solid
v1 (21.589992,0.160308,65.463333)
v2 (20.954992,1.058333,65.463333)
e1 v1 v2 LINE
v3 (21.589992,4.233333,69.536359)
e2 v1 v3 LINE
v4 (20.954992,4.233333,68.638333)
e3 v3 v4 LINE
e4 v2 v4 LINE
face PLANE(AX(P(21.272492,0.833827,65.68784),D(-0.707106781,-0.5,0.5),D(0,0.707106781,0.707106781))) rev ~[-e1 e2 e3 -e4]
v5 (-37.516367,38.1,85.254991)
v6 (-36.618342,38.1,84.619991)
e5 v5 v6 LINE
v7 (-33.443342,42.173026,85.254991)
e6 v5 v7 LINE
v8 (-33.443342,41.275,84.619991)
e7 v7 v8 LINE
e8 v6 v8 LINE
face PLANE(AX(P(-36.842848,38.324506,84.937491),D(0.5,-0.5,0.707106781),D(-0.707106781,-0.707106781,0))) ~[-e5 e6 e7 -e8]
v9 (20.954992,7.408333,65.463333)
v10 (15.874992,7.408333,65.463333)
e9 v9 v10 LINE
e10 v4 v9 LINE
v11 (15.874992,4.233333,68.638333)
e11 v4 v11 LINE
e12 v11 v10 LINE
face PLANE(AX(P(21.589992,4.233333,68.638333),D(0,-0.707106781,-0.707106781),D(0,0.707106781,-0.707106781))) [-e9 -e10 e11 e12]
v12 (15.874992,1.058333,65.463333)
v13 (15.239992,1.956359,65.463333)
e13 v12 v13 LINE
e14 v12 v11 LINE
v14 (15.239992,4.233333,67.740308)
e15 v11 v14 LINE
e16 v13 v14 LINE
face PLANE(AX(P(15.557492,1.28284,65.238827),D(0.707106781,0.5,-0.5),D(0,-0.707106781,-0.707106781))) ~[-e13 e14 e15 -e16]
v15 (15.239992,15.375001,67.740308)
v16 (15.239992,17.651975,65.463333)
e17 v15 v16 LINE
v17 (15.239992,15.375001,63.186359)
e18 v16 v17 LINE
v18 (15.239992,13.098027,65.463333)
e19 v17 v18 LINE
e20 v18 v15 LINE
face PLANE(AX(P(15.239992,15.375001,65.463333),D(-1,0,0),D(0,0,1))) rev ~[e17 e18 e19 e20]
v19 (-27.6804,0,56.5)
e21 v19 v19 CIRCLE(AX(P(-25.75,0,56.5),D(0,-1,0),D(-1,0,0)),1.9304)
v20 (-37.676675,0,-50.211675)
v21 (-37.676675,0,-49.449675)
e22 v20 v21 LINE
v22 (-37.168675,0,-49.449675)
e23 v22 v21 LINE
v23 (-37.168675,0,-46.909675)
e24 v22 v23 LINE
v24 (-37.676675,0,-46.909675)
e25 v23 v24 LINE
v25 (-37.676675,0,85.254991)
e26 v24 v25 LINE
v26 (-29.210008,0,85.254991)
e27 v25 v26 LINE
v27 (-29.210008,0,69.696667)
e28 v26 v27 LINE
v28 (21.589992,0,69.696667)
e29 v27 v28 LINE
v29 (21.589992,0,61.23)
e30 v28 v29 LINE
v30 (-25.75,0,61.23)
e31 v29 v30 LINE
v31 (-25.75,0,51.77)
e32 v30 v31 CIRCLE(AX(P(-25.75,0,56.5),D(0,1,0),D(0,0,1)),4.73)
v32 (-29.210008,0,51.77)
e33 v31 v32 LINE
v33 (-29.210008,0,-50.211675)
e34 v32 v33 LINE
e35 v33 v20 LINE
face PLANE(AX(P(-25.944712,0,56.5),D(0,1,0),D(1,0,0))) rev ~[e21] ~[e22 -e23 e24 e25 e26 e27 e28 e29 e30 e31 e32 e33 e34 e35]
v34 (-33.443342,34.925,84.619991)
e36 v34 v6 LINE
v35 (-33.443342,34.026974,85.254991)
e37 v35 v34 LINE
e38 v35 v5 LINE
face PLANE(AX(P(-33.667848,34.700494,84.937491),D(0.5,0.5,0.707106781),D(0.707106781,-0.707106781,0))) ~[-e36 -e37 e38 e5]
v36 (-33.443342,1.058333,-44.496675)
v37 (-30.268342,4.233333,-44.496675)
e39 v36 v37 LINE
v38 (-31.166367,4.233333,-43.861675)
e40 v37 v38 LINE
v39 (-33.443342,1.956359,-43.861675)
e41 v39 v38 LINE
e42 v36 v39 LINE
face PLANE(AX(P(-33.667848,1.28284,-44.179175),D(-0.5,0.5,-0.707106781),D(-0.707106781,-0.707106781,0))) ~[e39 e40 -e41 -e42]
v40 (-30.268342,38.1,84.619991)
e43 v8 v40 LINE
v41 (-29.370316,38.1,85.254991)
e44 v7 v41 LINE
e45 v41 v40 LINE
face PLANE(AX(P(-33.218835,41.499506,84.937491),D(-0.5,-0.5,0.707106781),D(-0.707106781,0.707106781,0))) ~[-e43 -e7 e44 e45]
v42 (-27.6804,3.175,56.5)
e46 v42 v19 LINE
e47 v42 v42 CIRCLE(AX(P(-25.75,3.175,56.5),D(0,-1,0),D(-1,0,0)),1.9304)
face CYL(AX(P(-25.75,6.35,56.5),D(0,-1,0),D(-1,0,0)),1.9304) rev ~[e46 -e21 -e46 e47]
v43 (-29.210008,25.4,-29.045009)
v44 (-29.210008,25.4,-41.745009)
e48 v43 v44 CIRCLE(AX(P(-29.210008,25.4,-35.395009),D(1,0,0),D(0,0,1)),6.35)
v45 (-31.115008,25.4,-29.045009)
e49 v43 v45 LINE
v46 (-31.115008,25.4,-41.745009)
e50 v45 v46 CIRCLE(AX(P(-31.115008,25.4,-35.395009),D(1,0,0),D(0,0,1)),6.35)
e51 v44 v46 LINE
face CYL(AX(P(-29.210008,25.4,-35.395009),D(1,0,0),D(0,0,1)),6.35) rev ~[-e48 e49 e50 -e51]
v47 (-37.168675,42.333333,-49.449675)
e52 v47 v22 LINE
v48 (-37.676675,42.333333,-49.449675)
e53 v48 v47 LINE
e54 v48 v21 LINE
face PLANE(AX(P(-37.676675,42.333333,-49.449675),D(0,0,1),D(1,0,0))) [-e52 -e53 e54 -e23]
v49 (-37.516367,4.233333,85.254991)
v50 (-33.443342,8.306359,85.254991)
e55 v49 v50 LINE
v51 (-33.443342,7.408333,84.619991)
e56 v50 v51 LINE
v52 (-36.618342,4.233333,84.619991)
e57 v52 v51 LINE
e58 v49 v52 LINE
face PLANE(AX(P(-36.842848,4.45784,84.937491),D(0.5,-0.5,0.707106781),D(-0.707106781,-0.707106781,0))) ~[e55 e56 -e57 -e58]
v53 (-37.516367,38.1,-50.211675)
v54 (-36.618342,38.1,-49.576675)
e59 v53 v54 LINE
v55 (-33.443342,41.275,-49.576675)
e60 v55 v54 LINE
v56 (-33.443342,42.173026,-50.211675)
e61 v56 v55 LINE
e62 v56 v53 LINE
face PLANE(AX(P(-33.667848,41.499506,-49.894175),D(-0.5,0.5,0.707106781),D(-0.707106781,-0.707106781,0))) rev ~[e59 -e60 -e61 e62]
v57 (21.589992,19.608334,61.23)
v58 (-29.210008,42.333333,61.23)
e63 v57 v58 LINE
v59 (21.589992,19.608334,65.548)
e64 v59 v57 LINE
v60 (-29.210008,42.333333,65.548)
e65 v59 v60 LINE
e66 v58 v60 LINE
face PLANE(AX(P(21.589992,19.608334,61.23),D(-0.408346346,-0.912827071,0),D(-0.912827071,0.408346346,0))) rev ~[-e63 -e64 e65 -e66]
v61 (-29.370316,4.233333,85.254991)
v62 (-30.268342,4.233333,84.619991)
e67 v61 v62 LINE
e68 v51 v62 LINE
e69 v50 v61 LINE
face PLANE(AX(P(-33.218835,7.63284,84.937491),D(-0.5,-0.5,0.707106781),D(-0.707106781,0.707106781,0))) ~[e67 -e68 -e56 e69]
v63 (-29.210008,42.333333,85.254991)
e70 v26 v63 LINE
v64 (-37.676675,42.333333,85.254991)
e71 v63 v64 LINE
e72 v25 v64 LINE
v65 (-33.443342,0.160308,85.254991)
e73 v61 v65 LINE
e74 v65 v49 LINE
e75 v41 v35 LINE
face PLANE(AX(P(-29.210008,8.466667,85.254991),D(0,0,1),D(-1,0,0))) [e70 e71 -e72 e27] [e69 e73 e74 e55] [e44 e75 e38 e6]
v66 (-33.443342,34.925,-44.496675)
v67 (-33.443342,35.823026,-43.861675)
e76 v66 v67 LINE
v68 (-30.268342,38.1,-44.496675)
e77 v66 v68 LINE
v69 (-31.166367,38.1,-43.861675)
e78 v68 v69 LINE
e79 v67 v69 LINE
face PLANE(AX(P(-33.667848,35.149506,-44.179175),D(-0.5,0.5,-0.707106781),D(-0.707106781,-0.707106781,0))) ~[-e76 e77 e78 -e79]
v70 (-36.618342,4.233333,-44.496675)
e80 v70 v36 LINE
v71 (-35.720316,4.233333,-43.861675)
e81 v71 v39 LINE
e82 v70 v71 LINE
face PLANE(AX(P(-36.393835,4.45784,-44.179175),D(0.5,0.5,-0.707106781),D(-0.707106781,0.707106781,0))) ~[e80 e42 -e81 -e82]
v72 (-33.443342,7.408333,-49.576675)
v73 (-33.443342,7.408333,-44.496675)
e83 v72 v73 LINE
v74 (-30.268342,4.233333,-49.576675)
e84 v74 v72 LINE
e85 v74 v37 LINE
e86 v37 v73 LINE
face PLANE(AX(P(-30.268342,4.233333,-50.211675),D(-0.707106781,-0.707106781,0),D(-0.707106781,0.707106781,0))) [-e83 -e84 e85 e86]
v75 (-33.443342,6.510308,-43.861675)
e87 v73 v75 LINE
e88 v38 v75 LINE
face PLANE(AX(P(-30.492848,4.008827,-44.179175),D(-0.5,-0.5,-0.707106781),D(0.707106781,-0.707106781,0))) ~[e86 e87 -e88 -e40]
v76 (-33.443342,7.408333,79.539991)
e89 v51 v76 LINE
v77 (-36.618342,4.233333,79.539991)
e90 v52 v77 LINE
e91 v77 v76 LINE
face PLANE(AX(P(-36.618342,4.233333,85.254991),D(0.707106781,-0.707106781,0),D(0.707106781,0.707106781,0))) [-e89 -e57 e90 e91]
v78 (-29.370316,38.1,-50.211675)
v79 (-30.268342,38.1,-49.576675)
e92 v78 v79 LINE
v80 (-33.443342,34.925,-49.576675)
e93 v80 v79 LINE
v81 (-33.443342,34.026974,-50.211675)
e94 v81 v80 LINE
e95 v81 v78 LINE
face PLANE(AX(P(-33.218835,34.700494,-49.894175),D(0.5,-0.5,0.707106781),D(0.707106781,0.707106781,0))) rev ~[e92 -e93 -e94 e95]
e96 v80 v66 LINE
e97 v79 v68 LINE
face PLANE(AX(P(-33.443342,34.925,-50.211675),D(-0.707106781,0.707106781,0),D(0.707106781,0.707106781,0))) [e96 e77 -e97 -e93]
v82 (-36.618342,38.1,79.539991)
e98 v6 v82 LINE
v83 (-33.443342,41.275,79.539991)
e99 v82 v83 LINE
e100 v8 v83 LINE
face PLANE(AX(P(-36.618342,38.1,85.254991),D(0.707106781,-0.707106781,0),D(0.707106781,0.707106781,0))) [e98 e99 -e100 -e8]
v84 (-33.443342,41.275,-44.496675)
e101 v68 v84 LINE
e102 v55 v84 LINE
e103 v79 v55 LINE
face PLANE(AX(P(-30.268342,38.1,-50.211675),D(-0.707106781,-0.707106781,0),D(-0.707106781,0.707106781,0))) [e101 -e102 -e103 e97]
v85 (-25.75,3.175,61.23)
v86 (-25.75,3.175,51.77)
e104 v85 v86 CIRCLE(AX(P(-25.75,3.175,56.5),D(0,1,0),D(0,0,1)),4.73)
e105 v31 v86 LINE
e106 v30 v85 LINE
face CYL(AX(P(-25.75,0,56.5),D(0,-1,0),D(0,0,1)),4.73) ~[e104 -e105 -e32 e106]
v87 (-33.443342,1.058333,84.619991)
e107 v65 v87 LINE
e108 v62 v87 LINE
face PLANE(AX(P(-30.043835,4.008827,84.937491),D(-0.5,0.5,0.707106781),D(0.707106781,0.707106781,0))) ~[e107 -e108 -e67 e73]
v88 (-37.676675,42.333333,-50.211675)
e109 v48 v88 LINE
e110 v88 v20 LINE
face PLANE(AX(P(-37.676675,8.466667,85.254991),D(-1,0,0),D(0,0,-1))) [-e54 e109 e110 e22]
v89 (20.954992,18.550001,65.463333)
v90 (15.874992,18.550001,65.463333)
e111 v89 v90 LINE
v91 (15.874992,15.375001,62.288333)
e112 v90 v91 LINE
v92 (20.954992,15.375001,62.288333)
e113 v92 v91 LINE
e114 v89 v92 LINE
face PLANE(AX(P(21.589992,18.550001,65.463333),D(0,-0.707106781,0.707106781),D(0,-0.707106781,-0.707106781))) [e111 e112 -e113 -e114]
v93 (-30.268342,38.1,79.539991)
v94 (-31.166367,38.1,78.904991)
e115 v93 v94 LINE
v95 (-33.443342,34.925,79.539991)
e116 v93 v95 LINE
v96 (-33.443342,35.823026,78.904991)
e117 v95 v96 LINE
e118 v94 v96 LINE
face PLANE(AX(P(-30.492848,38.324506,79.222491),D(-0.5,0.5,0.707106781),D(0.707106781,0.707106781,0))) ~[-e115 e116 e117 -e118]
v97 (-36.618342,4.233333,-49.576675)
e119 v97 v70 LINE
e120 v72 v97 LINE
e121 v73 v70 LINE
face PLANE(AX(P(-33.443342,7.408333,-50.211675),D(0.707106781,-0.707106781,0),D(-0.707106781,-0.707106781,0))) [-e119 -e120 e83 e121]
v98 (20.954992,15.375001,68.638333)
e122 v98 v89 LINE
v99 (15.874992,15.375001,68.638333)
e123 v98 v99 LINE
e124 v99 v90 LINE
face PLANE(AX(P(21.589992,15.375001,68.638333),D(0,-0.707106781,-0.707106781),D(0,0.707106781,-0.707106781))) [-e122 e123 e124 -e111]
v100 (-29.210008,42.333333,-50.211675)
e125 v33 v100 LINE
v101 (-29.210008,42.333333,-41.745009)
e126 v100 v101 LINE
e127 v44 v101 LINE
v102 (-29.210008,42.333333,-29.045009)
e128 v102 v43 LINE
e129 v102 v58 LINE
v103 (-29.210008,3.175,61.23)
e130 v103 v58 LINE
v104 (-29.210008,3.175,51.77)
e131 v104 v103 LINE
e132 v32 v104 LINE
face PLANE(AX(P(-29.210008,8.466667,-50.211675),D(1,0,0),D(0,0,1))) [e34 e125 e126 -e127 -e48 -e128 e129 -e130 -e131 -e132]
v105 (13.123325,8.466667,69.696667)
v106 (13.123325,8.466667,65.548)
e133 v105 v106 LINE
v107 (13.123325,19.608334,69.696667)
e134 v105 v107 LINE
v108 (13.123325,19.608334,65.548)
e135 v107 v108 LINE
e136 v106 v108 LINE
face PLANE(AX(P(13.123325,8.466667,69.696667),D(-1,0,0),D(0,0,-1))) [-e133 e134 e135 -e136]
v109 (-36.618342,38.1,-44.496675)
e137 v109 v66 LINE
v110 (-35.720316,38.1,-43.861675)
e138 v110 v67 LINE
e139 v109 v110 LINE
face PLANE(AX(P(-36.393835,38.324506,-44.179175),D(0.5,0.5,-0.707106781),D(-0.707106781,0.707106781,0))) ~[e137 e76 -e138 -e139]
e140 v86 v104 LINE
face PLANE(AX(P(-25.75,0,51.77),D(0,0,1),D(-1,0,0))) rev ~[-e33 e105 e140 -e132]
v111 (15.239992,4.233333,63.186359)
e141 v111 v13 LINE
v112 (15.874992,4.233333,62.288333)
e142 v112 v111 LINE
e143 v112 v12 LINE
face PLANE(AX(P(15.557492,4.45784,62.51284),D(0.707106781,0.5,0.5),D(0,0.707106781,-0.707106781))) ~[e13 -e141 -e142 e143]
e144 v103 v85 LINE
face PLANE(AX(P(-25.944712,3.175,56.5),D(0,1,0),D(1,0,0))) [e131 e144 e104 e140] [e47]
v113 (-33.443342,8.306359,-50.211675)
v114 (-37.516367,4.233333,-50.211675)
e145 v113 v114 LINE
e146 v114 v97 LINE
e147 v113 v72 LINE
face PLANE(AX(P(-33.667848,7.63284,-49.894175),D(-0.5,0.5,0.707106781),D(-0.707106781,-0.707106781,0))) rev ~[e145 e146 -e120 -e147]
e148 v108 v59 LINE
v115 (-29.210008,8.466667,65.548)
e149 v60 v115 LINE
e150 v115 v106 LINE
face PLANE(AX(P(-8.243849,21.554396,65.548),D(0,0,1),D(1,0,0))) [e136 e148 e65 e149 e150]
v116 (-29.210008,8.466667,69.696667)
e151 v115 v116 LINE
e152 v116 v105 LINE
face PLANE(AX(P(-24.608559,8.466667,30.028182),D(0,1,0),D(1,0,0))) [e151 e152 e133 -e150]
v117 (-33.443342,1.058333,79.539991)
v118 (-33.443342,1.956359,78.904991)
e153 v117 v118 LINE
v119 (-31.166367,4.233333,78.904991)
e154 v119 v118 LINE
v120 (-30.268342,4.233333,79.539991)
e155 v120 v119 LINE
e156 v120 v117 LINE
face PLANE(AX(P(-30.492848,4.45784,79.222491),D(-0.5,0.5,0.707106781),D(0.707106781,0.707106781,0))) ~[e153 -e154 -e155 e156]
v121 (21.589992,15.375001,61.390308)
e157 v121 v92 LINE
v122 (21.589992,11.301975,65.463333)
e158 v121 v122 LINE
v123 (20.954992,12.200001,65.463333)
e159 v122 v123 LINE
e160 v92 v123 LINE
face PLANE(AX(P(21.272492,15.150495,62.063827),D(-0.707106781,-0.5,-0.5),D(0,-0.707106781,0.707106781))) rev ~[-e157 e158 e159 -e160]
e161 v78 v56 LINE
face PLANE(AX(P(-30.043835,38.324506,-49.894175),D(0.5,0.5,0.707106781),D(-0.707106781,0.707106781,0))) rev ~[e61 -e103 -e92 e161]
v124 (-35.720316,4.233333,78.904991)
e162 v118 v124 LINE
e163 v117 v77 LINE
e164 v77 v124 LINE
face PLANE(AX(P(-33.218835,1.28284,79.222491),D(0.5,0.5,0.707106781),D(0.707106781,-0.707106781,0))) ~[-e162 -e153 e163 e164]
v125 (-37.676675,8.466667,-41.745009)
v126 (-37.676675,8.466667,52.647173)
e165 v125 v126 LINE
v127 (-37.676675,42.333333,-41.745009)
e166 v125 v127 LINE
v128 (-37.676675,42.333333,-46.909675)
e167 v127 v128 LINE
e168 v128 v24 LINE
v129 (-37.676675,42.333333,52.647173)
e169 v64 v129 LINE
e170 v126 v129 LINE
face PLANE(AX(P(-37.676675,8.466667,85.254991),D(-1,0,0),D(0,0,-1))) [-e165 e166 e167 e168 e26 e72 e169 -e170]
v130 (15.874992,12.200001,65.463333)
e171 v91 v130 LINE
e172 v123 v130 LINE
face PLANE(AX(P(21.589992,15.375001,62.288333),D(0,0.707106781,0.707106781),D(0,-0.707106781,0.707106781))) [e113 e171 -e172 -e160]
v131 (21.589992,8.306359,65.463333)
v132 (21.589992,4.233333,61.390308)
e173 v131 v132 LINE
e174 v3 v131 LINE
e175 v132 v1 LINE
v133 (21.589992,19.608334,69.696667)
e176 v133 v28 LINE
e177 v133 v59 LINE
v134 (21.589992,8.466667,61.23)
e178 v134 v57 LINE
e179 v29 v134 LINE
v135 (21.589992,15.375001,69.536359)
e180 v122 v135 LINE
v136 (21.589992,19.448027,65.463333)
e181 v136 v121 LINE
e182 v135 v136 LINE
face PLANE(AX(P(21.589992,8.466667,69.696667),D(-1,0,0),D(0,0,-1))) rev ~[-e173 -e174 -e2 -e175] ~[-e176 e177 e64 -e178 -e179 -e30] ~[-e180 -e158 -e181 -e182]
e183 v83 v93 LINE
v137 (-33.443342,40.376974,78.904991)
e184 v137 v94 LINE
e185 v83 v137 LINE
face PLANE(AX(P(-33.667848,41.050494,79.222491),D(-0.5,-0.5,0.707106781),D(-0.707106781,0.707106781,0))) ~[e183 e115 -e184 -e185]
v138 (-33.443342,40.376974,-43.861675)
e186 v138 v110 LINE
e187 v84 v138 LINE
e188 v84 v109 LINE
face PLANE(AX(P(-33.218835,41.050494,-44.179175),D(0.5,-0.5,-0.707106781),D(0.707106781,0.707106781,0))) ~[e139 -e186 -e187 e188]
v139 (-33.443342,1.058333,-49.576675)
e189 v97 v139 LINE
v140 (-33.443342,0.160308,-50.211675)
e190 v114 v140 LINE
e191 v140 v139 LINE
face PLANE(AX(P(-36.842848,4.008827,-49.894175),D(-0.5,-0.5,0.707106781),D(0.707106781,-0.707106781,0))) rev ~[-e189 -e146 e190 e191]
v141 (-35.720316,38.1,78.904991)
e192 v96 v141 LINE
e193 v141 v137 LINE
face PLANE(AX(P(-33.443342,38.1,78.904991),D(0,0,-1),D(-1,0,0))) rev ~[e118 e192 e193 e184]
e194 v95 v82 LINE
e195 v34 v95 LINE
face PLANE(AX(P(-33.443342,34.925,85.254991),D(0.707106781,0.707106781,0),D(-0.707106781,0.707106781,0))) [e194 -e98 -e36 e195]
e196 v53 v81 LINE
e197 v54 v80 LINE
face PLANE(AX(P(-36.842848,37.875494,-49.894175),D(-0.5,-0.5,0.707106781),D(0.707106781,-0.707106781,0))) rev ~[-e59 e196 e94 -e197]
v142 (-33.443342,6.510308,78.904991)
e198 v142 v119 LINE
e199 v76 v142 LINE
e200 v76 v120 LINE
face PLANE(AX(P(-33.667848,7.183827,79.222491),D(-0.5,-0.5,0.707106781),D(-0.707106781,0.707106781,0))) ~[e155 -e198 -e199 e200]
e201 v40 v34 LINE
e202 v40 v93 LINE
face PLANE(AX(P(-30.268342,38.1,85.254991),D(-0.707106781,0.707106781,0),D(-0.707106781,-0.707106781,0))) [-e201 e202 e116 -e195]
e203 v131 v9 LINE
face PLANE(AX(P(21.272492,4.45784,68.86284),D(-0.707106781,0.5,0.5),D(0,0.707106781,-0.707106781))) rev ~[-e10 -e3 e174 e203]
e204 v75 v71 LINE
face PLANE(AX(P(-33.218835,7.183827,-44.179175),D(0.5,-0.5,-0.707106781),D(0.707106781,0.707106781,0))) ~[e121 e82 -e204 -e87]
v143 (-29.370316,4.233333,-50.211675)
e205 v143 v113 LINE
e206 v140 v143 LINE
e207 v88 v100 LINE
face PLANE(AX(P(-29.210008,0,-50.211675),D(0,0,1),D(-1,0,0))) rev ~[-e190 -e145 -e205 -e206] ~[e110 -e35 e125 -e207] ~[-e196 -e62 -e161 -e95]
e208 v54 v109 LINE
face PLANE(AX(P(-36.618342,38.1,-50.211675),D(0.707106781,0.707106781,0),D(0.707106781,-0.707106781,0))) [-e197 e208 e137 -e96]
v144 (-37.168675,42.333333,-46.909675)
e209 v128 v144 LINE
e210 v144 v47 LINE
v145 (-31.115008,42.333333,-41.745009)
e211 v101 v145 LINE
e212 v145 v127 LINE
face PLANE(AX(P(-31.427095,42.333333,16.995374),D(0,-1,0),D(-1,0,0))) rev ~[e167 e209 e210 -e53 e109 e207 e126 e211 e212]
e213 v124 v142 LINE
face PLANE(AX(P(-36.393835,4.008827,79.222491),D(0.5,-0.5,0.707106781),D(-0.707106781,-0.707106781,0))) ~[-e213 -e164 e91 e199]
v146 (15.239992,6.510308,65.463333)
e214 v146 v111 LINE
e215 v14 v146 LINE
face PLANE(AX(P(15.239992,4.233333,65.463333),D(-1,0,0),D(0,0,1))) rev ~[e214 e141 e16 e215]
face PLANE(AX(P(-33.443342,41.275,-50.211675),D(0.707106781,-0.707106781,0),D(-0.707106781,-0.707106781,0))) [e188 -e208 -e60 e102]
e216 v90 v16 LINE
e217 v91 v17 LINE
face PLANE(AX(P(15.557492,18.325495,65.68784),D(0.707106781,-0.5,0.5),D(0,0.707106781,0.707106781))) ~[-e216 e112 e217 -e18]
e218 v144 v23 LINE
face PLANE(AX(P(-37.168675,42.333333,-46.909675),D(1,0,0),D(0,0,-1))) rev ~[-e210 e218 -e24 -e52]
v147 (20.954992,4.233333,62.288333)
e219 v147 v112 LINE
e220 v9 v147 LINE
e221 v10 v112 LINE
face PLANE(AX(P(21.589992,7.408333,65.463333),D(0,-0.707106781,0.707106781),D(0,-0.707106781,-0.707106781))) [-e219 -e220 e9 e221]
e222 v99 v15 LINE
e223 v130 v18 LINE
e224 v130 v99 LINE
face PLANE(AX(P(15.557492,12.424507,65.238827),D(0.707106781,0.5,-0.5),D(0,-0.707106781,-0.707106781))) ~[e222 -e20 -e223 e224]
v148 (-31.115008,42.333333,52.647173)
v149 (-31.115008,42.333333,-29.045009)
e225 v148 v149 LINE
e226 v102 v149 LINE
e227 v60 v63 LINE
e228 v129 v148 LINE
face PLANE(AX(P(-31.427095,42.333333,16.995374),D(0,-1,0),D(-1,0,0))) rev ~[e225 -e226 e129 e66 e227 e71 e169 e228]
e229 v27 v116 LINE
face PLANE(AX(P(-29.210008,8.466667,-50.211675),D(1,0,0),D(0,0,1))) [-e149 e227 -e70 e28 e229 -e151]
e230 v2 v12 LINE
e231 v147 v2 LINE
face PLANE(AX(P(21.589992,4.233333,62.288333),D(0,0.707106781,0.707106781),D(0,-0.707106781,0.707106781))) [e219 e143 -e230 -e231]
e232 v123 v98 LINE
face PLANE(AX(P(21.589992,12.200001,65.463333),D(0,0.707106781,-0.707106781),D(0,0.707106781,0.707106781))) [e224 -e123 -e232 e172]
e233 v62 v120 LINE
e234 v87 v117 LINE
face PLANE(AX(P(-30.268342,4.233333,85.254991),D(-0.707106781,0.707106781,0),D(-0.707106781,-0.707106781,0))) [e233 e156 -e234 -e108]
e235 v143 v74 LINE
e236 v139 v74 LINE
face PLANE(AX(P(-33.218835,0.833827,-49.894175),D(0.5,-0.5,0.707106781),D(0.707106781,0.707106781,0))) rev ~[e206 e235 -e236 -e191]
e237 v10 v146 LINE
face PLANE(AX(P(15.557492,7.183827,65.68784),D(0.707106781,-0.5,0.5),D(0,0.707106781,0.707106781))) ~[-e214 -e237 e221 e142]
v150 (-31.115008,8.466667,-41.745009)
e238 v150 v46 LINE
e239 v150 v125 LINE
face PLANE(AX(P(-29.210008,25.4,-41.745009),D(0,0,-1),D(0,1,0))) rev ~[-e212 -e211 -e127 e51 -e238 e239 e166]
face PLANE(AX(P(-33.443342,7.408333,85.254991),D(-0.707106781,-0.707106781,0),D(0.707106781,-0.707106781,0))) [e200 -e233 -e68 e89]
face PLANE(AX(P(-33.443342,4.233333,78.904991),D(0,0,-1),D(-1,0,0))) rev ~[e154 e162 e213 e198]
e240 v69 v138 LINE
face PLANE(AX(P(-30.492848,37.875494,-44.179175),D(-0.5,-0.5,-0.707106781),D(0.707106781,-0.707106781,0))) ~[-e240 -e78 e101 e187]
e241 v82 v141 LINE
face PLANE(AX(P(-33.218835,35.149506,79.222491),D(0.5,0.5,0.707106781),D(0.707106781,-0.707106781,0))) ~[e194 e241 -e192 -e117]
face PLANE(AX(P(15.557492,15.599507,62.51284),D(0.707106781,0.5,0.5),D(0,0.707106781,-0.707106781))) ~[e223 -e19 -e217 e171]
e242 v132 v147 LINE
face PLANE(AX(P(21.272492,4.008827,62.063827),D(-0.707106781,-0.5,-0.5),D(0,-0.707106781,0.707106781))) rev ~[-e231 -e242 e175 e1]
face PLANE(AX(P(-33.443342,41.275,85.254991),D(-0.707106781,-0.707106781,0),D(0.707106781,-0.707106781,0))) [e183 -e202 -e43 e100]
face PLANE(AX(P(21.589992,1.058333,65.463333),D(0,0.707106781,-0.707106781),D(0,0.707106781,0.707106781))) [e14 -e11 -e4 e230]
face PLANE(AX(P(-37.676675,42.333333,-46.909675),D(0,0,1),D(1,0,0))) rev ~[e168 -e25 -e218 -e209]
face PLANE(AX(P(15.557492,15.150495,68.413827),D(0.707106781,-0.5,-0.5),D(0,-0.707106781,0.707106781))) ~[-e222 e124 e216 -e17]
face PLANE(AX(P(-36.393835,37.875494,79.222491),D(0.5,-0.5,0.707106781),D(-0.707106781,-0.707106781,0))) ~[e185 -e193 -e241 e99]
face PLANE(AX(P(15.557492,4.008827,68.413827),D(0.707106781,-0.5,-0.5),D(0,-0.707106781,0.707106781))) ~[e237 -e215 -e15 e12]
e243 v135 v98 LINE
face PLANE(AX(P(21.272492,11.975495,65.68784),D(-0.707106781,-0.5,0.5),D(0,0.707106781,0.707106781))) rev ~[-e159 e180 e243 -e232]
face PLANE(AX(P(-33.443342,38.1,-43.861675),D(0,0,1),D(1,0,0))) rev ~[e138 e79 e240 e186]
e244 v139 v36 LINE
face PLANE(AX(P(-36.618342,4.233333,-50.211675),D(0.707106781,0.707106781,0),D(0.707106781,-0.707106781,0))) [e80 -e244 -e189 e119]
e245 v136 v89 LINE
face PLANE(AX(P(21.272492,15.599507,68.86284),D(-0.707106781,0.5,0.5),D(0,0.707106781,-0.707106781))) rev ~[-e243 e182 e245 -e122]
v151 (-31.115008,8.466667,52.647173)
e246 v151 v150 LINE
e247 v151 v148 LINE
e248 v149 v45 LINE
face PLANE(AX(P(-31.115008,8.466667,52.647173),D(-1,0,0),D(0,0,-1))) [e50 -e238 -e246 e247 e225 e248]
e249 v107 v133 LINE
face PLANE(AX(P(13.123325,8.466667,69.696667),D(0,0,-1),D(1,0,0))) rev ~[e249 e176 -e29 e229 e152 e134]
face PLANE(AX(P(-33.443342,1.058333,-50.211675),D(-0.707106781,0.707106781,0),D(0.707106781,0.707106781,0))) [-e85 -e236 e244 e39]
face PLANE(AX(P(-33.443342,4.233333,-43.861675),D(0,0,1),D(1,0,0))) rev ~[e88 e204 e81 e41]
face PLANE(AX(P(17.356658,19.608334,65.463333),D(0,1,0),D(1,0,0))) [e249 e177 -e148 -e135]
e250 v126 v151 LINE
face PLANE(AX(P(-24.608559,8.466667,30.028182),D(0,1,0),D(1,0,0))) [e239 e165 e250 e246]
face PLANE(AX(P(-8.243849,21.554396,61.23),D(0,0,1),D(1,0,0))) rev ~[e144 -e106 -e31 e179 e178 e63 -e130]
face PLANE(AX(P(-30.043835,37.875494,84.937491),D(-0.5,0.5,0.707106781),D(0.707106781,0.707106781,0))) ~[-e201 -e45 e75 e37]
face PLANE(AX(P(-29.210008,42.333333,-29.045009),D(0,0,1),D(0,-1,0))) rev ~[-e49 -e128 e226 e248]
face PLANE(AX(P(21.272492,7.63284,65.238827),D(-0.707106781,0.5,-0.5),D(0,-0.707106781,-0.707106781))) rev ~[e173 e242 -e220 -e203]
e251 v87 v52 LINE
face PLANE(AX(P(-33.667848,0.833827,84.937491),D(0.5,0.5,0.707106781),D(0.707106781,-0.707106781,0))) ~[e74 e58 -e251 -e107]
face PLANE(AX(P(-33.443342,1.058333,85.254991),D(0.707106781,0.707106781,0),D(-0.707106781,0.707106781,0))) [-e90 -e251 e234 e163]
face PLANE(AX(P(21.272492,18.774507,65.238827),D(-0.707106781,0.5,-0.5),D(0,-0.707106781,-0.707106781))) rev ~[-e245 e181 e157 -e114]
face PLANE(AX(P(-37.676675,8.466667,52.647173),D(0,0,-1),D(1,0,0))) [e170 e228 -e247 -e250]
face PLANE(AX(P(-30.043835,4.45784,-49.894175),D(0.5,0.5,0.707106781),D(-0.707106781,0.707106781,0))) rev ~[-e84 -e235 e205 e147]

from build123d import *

# Parameters (mm, degrees)
BOSS_EXTRUDE2_DEPTH             = 8.466666667
BOSS_EXTRUDE4_DEPTH             = 3.175
F_24_0_152_DIAMETER_HOLE1_D     = 3.8608
F_24_0_152_DIAMETER_HOLE1_DEPTH = 3.175
BOSS_EXTRUDE5_DEPTH             = 33.866666667
SKETCH19_W                      = 8.466666666
SKETCH19_H                      = 8.466666667
BOSS_EXTRUDE7_DEPTH             = 11.141667582
BOSS_EXTRUDE6_DEPTH             = 4.318
RIGHTPINS_DEPTH                 = 6.35
LEFTPINS_DEPTH                  = 6.35
FRONTPINS_DEPTH                 = 6.35
PINCHAMFER_SIZE                 = 0.635
CUT_EXTRUDE1_REACH              = 109.894
CUT_EXTRUDE2_REACH              = 104.372
SKETCH21_W                      = 0.508
SKETCH21_H                      = 2.54


with BuildPart() as part:
    # Sketch3 → Boss-Extrude2 (new body)
    with BuildSketch(Plane(origin=(0, 0, 0), x_dir=(1, 0, 0), z_dir=(0, 1, 0))):
        Polygon((-29.210008467, 50.211675347), (-37.676675133, 50.211675347), (-37.676675133, -85.254991405), (-29.210008467, -85.254991405), (-29.210008467, -69.696666667), (21.589991533, -69.696666667), (21.589991533, -61.23), (-29.210008467, -61.23), align=None)
    extrude(amount=BOSS_EXTRUDE2_DEPTH)

    # Sketch12 → Boss-Extrude4 (add)
    with BuildSketch(Plane(origin=(0, 0, 0), x_dir=(1, 0, 0), z_dir=(0, 1, 0))):
        with BuildLine():
            Line((-25.75, -51.77), (-29.210008467, -51.77))
            Line((-29.210008467, -51.77), (-29.210008467, -61.23))
            Line((-29.210008467, -61.23), (-25.75, -61.23))
            ThreePointArc((-25.75, -61.23), (-21.02, -56.5), (-25.75, -51.77))
        make_face()
    extrude(amount=BOSS_EXTRUDE4_DEPTH)

    # #24 (0.152) Diameter Hole1
    with Locations(Plane(origin=(0, 3.175, 0), x_dir=(1, 0, 0), z_dir=(0, 1, 0))):
        with Locations((-25.75, 56.5), (-25.75, -56.5)):
            Hole(F_24_0_152_DIAMETER_HOLE1_D / 2, depth=F_24_0_152_DIAMETER_HOLE1_DEPTH)

    # Sketch16 → Boss-Extrude5 (add)
    with BuildSketch(Plane(origin=(0, 8.466666667, 0), x_dir=(1, 0, 0), z_dir=(0, 1, 0))):
        Polygon((-37.676675133, -85.254991405), (-37.676675133, -52.64717283), (-31.115008467, -52.64717283), (-31.115008467, 41.74500868), (-37.676675133, 41.74500868), (-37.676675133, 50.211675347), (-29.210008467, 50.211675347), (-29.210008467, -85.254991405), align=None)
    extrude(amount=BOSS_EXTRUDE5_DEPTH)

    # Sketch19 → Boss-Extrude7 (add)
    with BuildSketch(Plane(origin=(0, 8.466666667, 0), x_dir=(1, 0, 0), z_dir=(0, 1, 0))):
        with Locations((17.3566582, -65.463333334)):
            Rectangle(SKETCH19_W, SKETCH19_H)
    extrude(amount=BOSS_EXTRUDE7_DEPTH)

    # Sketch18 → Boss-Extrude6 (add)
    with BuildSketch(Plane(origin=(0, 0, 61.23), x_dir=(-1, 0, 0), z_dir=(0, 0, -1))):
        Polygon((-21.589991533, 19.608334249), (29.210008467, 42.333333333), (29.210008467, 8.466666667), (-13.123324867, 8.466666667), (-13.123324867, 19.608334249), align=None)
    extrude(amount=-BOSS_EXTRUDE6_DEPTH)

    # Sketch4 → RightPins (cut)
    with BuildSketch(Plane.XY.offset(85.254991405)):
        Polygon((-36.6183418, 4.233333333), (-33.4433418, 7.408333333), (-30.2683418, 4.233333333), (-33.4433418, 1.058333333), align=None)
        Polygon((-36.6183418, 38.1), (-33.4433418, 41.275), (-30.2683418, 38.1), (-33.4433418, 34.925), align=None)
    extrude(amount=-RIGHTPINS_DEPTH, mode=Mode.SUBTRACT)

    # Sketch5 → LeftPins (cut)
    with BuildSketch(Plane(origin=(0, 0, -50.211675347), x_dir=(-1, 0, 0), z_dir=(0, 0, -1))):
        Polygon((30.2683418, 4.233333333), (33.4433418, 7.408333333), (36.6183418, 4.233333333), (33.4433418, 1.058333333), align=None)
        Polygon((30.2683418, 38.1), (33.4433418, 41.275), (36.6183418, 38.1), (33.4433418, 34.925), align=None)
    extrude(amount=-LEFTPINS_DEPTH, mode=Mode.SUBTRACT)

    # Sketch11 → FrontPins (cut)
    with BuildSketch(Plane(origin=(21.589991533, 0, 0), x_dir=(0, 0, -1), z_dir=(1, 0, 0))):
        Polygon((-68.638333333, 4.233333333), (-65.463333333, 7.408333333), (-62.288333333, 4.233333333), (-65.463333333, 1.058333333), align=None)
        Polygon((-68.638333333, 15.375000915), (-65.463333333, 18.550000915), (-62.288333333, 15.375000915), (-65.463333333, 12.200000915), align=None)
    extrude(amount=-FRONTPINS_DEPTH, mode=Mode.SUBTRACT)

    # PinChamfer
    pinchamfer_edges = [part.edges().sort_by_distance(p)[0] for p in [
        (-35.0308418, 2.645833333, 78.904991405),
        (-35.0308418, 5.820833333, 78.904991405),
        (-31.8558418, 5.820833333, 78.904991405),
        (-31.8558418, 2.645833333, 78.904991405),
        (-35.0308418, 2.645833333, 85.254991405),
        (-31.8558418, 2.645833333, 85.254991405),
        (-31.8558418, 5.820833333, 85.254991405),
        (-35.0308418, 5.820833333, 85.254991405),
        (-35.0308418, 36.5125, 78.904991405),
        (-35.0308418, 39.6875, 78.904991405),
        (-31.8558418, 39.6875, 78.904991405),
        (-31.8558418, 36.5125, 78.904991405),
        (-35.0308418, 36.5125, 85.254991405),
        (-31.8558418, 36.5125, 85.254991405),
        (-31.8558418, 39.6875, 85.254991405),
        (-35.0308418, 39.6875, 85.254991405),
        (-31.8558418, 2.645833333, -43.861675347),
        (-31.8558418, 5.820833333, -43.861675347),
        (-35.0308418, 5.820833333, -43.861675347),
        (-35.0308418, 2.645833333, -43.861675347),
        (-31.8558418, 2.645833333, -50.211675347),
        (-35.0308418, 2.645833333, -50.211675347),
        (-35.0308418, 5.820833333, -50.211675347),
        (-31.8558418, 5.820833333, -50.211675347),
        (-31.8558418, 36.5125, -43.861675347),
        (-31.8558418, 39.6875, -43.861675347),
        (-35.0308418, 39.6875, -43.861675347),
        (-35.0308418, 36.5125, -43.861675347),
        (-31.8558418, 36.5125, -50.211675347),
        (-35.0308418, 36.5125, -50.211675347),
        (-35.0308418, 39.6875, -50.211675347),
        (-31.8558418, 39.6875, -50.211675347),
        (15.239991533, 2.645833333, 67.050833333),
        (15.239991533, 5.820833333, 67.050833333),
        (15.239991533, 5.820833333, 63.875833333),
        (15.239991533, 2.645833333, 63.875833333),
        (21.589991533, 2.645833333, 67.050833333),
        (21.589991533, 2.645833333, 63.875833333),
        (21.589991533, 5.820833333, 63.875833333),
        (21.589991533, 5.820833333, 67.050833333),
        (15.239991533, 13.787500915, 67.050833333),
        (15.239991533, 16.962500915, 67.050833333),
        (15.239991533, 16.962500915, 63.875833333),
        (15.239991533, 13.787500915, 63.875833333),
        (21.589991533, 13.787500915, 67.050833333),
        (21.589991533, 13.787500915, 63.875833333),
        (21.589991533, 16.962500915, 63.875833333),
        (21.589991533, 16.962500915, 67.050833333),
    ]]
    chamfer(pinchamfer_edges, length=PINCHAMFER_SIZE)

    # Sketch20 → Cut-Extrude1 (cut, up to next)
    with BuildSketch(Plane(origin=(-29.210008467, 0, 0), x_dir=(0, 0, -1), z_dir=(1, 0, 0)), mode=Mode.PRIVATE) as cut_extrude1_sk1:
        with BuildLine():
            Line((41.74500868, 25.4), (41.74500868, 42.333333333))
            Line((41.74500868, 42.333333333), (29.04500868, 42.333333333))
            Line((29.04500868, 42.333333333), (29.04500868, 25.4))
            ThreePointArc((29.04500868, 25.4), (35.39500868, 19.05), (41.74500868, 25.4))
        make_face()
    cut_extrude1_tool1 = extrude(cut_extrude1_sk1.sketch, amount=-CUT_EXTRUDE1_REACH, mode=Mode.PRIVATE) & part.part
    add(cut_extrude1_tool1.solids().sort_by_distance((-29.210008, 31.327209, -35.395009))[0], mode=Mode.SUBTRACT)

    # Sketch21 → Cut-Extrude2 (cut, up to next)
    with BuildSketch(Plane(origin=(0, 42.333333333, 0), x_dir=(1, 0, 0), z_dir=(0, 1, 0)), mode=Mode.PRIVATE) as cut_extrude2_sk1:
        with Locations((-37.422675133, 48.179675347)):
            Rectangle(SKETCH21_W, SKETCH21_H)
    cut_extrude2_tool1 = extrude(cut_extrude2_sk1.sketch, amount=-CUT_EXTRUDE2_REACH, mode=Mode.PRIVATE) & part.part
    add(cut_extrude2_tool1.solids().sort_by_distance((-37.422675, 42.333333, -48.179675))[0], mode=Mode.SUBTRACT)


solid = part.part
